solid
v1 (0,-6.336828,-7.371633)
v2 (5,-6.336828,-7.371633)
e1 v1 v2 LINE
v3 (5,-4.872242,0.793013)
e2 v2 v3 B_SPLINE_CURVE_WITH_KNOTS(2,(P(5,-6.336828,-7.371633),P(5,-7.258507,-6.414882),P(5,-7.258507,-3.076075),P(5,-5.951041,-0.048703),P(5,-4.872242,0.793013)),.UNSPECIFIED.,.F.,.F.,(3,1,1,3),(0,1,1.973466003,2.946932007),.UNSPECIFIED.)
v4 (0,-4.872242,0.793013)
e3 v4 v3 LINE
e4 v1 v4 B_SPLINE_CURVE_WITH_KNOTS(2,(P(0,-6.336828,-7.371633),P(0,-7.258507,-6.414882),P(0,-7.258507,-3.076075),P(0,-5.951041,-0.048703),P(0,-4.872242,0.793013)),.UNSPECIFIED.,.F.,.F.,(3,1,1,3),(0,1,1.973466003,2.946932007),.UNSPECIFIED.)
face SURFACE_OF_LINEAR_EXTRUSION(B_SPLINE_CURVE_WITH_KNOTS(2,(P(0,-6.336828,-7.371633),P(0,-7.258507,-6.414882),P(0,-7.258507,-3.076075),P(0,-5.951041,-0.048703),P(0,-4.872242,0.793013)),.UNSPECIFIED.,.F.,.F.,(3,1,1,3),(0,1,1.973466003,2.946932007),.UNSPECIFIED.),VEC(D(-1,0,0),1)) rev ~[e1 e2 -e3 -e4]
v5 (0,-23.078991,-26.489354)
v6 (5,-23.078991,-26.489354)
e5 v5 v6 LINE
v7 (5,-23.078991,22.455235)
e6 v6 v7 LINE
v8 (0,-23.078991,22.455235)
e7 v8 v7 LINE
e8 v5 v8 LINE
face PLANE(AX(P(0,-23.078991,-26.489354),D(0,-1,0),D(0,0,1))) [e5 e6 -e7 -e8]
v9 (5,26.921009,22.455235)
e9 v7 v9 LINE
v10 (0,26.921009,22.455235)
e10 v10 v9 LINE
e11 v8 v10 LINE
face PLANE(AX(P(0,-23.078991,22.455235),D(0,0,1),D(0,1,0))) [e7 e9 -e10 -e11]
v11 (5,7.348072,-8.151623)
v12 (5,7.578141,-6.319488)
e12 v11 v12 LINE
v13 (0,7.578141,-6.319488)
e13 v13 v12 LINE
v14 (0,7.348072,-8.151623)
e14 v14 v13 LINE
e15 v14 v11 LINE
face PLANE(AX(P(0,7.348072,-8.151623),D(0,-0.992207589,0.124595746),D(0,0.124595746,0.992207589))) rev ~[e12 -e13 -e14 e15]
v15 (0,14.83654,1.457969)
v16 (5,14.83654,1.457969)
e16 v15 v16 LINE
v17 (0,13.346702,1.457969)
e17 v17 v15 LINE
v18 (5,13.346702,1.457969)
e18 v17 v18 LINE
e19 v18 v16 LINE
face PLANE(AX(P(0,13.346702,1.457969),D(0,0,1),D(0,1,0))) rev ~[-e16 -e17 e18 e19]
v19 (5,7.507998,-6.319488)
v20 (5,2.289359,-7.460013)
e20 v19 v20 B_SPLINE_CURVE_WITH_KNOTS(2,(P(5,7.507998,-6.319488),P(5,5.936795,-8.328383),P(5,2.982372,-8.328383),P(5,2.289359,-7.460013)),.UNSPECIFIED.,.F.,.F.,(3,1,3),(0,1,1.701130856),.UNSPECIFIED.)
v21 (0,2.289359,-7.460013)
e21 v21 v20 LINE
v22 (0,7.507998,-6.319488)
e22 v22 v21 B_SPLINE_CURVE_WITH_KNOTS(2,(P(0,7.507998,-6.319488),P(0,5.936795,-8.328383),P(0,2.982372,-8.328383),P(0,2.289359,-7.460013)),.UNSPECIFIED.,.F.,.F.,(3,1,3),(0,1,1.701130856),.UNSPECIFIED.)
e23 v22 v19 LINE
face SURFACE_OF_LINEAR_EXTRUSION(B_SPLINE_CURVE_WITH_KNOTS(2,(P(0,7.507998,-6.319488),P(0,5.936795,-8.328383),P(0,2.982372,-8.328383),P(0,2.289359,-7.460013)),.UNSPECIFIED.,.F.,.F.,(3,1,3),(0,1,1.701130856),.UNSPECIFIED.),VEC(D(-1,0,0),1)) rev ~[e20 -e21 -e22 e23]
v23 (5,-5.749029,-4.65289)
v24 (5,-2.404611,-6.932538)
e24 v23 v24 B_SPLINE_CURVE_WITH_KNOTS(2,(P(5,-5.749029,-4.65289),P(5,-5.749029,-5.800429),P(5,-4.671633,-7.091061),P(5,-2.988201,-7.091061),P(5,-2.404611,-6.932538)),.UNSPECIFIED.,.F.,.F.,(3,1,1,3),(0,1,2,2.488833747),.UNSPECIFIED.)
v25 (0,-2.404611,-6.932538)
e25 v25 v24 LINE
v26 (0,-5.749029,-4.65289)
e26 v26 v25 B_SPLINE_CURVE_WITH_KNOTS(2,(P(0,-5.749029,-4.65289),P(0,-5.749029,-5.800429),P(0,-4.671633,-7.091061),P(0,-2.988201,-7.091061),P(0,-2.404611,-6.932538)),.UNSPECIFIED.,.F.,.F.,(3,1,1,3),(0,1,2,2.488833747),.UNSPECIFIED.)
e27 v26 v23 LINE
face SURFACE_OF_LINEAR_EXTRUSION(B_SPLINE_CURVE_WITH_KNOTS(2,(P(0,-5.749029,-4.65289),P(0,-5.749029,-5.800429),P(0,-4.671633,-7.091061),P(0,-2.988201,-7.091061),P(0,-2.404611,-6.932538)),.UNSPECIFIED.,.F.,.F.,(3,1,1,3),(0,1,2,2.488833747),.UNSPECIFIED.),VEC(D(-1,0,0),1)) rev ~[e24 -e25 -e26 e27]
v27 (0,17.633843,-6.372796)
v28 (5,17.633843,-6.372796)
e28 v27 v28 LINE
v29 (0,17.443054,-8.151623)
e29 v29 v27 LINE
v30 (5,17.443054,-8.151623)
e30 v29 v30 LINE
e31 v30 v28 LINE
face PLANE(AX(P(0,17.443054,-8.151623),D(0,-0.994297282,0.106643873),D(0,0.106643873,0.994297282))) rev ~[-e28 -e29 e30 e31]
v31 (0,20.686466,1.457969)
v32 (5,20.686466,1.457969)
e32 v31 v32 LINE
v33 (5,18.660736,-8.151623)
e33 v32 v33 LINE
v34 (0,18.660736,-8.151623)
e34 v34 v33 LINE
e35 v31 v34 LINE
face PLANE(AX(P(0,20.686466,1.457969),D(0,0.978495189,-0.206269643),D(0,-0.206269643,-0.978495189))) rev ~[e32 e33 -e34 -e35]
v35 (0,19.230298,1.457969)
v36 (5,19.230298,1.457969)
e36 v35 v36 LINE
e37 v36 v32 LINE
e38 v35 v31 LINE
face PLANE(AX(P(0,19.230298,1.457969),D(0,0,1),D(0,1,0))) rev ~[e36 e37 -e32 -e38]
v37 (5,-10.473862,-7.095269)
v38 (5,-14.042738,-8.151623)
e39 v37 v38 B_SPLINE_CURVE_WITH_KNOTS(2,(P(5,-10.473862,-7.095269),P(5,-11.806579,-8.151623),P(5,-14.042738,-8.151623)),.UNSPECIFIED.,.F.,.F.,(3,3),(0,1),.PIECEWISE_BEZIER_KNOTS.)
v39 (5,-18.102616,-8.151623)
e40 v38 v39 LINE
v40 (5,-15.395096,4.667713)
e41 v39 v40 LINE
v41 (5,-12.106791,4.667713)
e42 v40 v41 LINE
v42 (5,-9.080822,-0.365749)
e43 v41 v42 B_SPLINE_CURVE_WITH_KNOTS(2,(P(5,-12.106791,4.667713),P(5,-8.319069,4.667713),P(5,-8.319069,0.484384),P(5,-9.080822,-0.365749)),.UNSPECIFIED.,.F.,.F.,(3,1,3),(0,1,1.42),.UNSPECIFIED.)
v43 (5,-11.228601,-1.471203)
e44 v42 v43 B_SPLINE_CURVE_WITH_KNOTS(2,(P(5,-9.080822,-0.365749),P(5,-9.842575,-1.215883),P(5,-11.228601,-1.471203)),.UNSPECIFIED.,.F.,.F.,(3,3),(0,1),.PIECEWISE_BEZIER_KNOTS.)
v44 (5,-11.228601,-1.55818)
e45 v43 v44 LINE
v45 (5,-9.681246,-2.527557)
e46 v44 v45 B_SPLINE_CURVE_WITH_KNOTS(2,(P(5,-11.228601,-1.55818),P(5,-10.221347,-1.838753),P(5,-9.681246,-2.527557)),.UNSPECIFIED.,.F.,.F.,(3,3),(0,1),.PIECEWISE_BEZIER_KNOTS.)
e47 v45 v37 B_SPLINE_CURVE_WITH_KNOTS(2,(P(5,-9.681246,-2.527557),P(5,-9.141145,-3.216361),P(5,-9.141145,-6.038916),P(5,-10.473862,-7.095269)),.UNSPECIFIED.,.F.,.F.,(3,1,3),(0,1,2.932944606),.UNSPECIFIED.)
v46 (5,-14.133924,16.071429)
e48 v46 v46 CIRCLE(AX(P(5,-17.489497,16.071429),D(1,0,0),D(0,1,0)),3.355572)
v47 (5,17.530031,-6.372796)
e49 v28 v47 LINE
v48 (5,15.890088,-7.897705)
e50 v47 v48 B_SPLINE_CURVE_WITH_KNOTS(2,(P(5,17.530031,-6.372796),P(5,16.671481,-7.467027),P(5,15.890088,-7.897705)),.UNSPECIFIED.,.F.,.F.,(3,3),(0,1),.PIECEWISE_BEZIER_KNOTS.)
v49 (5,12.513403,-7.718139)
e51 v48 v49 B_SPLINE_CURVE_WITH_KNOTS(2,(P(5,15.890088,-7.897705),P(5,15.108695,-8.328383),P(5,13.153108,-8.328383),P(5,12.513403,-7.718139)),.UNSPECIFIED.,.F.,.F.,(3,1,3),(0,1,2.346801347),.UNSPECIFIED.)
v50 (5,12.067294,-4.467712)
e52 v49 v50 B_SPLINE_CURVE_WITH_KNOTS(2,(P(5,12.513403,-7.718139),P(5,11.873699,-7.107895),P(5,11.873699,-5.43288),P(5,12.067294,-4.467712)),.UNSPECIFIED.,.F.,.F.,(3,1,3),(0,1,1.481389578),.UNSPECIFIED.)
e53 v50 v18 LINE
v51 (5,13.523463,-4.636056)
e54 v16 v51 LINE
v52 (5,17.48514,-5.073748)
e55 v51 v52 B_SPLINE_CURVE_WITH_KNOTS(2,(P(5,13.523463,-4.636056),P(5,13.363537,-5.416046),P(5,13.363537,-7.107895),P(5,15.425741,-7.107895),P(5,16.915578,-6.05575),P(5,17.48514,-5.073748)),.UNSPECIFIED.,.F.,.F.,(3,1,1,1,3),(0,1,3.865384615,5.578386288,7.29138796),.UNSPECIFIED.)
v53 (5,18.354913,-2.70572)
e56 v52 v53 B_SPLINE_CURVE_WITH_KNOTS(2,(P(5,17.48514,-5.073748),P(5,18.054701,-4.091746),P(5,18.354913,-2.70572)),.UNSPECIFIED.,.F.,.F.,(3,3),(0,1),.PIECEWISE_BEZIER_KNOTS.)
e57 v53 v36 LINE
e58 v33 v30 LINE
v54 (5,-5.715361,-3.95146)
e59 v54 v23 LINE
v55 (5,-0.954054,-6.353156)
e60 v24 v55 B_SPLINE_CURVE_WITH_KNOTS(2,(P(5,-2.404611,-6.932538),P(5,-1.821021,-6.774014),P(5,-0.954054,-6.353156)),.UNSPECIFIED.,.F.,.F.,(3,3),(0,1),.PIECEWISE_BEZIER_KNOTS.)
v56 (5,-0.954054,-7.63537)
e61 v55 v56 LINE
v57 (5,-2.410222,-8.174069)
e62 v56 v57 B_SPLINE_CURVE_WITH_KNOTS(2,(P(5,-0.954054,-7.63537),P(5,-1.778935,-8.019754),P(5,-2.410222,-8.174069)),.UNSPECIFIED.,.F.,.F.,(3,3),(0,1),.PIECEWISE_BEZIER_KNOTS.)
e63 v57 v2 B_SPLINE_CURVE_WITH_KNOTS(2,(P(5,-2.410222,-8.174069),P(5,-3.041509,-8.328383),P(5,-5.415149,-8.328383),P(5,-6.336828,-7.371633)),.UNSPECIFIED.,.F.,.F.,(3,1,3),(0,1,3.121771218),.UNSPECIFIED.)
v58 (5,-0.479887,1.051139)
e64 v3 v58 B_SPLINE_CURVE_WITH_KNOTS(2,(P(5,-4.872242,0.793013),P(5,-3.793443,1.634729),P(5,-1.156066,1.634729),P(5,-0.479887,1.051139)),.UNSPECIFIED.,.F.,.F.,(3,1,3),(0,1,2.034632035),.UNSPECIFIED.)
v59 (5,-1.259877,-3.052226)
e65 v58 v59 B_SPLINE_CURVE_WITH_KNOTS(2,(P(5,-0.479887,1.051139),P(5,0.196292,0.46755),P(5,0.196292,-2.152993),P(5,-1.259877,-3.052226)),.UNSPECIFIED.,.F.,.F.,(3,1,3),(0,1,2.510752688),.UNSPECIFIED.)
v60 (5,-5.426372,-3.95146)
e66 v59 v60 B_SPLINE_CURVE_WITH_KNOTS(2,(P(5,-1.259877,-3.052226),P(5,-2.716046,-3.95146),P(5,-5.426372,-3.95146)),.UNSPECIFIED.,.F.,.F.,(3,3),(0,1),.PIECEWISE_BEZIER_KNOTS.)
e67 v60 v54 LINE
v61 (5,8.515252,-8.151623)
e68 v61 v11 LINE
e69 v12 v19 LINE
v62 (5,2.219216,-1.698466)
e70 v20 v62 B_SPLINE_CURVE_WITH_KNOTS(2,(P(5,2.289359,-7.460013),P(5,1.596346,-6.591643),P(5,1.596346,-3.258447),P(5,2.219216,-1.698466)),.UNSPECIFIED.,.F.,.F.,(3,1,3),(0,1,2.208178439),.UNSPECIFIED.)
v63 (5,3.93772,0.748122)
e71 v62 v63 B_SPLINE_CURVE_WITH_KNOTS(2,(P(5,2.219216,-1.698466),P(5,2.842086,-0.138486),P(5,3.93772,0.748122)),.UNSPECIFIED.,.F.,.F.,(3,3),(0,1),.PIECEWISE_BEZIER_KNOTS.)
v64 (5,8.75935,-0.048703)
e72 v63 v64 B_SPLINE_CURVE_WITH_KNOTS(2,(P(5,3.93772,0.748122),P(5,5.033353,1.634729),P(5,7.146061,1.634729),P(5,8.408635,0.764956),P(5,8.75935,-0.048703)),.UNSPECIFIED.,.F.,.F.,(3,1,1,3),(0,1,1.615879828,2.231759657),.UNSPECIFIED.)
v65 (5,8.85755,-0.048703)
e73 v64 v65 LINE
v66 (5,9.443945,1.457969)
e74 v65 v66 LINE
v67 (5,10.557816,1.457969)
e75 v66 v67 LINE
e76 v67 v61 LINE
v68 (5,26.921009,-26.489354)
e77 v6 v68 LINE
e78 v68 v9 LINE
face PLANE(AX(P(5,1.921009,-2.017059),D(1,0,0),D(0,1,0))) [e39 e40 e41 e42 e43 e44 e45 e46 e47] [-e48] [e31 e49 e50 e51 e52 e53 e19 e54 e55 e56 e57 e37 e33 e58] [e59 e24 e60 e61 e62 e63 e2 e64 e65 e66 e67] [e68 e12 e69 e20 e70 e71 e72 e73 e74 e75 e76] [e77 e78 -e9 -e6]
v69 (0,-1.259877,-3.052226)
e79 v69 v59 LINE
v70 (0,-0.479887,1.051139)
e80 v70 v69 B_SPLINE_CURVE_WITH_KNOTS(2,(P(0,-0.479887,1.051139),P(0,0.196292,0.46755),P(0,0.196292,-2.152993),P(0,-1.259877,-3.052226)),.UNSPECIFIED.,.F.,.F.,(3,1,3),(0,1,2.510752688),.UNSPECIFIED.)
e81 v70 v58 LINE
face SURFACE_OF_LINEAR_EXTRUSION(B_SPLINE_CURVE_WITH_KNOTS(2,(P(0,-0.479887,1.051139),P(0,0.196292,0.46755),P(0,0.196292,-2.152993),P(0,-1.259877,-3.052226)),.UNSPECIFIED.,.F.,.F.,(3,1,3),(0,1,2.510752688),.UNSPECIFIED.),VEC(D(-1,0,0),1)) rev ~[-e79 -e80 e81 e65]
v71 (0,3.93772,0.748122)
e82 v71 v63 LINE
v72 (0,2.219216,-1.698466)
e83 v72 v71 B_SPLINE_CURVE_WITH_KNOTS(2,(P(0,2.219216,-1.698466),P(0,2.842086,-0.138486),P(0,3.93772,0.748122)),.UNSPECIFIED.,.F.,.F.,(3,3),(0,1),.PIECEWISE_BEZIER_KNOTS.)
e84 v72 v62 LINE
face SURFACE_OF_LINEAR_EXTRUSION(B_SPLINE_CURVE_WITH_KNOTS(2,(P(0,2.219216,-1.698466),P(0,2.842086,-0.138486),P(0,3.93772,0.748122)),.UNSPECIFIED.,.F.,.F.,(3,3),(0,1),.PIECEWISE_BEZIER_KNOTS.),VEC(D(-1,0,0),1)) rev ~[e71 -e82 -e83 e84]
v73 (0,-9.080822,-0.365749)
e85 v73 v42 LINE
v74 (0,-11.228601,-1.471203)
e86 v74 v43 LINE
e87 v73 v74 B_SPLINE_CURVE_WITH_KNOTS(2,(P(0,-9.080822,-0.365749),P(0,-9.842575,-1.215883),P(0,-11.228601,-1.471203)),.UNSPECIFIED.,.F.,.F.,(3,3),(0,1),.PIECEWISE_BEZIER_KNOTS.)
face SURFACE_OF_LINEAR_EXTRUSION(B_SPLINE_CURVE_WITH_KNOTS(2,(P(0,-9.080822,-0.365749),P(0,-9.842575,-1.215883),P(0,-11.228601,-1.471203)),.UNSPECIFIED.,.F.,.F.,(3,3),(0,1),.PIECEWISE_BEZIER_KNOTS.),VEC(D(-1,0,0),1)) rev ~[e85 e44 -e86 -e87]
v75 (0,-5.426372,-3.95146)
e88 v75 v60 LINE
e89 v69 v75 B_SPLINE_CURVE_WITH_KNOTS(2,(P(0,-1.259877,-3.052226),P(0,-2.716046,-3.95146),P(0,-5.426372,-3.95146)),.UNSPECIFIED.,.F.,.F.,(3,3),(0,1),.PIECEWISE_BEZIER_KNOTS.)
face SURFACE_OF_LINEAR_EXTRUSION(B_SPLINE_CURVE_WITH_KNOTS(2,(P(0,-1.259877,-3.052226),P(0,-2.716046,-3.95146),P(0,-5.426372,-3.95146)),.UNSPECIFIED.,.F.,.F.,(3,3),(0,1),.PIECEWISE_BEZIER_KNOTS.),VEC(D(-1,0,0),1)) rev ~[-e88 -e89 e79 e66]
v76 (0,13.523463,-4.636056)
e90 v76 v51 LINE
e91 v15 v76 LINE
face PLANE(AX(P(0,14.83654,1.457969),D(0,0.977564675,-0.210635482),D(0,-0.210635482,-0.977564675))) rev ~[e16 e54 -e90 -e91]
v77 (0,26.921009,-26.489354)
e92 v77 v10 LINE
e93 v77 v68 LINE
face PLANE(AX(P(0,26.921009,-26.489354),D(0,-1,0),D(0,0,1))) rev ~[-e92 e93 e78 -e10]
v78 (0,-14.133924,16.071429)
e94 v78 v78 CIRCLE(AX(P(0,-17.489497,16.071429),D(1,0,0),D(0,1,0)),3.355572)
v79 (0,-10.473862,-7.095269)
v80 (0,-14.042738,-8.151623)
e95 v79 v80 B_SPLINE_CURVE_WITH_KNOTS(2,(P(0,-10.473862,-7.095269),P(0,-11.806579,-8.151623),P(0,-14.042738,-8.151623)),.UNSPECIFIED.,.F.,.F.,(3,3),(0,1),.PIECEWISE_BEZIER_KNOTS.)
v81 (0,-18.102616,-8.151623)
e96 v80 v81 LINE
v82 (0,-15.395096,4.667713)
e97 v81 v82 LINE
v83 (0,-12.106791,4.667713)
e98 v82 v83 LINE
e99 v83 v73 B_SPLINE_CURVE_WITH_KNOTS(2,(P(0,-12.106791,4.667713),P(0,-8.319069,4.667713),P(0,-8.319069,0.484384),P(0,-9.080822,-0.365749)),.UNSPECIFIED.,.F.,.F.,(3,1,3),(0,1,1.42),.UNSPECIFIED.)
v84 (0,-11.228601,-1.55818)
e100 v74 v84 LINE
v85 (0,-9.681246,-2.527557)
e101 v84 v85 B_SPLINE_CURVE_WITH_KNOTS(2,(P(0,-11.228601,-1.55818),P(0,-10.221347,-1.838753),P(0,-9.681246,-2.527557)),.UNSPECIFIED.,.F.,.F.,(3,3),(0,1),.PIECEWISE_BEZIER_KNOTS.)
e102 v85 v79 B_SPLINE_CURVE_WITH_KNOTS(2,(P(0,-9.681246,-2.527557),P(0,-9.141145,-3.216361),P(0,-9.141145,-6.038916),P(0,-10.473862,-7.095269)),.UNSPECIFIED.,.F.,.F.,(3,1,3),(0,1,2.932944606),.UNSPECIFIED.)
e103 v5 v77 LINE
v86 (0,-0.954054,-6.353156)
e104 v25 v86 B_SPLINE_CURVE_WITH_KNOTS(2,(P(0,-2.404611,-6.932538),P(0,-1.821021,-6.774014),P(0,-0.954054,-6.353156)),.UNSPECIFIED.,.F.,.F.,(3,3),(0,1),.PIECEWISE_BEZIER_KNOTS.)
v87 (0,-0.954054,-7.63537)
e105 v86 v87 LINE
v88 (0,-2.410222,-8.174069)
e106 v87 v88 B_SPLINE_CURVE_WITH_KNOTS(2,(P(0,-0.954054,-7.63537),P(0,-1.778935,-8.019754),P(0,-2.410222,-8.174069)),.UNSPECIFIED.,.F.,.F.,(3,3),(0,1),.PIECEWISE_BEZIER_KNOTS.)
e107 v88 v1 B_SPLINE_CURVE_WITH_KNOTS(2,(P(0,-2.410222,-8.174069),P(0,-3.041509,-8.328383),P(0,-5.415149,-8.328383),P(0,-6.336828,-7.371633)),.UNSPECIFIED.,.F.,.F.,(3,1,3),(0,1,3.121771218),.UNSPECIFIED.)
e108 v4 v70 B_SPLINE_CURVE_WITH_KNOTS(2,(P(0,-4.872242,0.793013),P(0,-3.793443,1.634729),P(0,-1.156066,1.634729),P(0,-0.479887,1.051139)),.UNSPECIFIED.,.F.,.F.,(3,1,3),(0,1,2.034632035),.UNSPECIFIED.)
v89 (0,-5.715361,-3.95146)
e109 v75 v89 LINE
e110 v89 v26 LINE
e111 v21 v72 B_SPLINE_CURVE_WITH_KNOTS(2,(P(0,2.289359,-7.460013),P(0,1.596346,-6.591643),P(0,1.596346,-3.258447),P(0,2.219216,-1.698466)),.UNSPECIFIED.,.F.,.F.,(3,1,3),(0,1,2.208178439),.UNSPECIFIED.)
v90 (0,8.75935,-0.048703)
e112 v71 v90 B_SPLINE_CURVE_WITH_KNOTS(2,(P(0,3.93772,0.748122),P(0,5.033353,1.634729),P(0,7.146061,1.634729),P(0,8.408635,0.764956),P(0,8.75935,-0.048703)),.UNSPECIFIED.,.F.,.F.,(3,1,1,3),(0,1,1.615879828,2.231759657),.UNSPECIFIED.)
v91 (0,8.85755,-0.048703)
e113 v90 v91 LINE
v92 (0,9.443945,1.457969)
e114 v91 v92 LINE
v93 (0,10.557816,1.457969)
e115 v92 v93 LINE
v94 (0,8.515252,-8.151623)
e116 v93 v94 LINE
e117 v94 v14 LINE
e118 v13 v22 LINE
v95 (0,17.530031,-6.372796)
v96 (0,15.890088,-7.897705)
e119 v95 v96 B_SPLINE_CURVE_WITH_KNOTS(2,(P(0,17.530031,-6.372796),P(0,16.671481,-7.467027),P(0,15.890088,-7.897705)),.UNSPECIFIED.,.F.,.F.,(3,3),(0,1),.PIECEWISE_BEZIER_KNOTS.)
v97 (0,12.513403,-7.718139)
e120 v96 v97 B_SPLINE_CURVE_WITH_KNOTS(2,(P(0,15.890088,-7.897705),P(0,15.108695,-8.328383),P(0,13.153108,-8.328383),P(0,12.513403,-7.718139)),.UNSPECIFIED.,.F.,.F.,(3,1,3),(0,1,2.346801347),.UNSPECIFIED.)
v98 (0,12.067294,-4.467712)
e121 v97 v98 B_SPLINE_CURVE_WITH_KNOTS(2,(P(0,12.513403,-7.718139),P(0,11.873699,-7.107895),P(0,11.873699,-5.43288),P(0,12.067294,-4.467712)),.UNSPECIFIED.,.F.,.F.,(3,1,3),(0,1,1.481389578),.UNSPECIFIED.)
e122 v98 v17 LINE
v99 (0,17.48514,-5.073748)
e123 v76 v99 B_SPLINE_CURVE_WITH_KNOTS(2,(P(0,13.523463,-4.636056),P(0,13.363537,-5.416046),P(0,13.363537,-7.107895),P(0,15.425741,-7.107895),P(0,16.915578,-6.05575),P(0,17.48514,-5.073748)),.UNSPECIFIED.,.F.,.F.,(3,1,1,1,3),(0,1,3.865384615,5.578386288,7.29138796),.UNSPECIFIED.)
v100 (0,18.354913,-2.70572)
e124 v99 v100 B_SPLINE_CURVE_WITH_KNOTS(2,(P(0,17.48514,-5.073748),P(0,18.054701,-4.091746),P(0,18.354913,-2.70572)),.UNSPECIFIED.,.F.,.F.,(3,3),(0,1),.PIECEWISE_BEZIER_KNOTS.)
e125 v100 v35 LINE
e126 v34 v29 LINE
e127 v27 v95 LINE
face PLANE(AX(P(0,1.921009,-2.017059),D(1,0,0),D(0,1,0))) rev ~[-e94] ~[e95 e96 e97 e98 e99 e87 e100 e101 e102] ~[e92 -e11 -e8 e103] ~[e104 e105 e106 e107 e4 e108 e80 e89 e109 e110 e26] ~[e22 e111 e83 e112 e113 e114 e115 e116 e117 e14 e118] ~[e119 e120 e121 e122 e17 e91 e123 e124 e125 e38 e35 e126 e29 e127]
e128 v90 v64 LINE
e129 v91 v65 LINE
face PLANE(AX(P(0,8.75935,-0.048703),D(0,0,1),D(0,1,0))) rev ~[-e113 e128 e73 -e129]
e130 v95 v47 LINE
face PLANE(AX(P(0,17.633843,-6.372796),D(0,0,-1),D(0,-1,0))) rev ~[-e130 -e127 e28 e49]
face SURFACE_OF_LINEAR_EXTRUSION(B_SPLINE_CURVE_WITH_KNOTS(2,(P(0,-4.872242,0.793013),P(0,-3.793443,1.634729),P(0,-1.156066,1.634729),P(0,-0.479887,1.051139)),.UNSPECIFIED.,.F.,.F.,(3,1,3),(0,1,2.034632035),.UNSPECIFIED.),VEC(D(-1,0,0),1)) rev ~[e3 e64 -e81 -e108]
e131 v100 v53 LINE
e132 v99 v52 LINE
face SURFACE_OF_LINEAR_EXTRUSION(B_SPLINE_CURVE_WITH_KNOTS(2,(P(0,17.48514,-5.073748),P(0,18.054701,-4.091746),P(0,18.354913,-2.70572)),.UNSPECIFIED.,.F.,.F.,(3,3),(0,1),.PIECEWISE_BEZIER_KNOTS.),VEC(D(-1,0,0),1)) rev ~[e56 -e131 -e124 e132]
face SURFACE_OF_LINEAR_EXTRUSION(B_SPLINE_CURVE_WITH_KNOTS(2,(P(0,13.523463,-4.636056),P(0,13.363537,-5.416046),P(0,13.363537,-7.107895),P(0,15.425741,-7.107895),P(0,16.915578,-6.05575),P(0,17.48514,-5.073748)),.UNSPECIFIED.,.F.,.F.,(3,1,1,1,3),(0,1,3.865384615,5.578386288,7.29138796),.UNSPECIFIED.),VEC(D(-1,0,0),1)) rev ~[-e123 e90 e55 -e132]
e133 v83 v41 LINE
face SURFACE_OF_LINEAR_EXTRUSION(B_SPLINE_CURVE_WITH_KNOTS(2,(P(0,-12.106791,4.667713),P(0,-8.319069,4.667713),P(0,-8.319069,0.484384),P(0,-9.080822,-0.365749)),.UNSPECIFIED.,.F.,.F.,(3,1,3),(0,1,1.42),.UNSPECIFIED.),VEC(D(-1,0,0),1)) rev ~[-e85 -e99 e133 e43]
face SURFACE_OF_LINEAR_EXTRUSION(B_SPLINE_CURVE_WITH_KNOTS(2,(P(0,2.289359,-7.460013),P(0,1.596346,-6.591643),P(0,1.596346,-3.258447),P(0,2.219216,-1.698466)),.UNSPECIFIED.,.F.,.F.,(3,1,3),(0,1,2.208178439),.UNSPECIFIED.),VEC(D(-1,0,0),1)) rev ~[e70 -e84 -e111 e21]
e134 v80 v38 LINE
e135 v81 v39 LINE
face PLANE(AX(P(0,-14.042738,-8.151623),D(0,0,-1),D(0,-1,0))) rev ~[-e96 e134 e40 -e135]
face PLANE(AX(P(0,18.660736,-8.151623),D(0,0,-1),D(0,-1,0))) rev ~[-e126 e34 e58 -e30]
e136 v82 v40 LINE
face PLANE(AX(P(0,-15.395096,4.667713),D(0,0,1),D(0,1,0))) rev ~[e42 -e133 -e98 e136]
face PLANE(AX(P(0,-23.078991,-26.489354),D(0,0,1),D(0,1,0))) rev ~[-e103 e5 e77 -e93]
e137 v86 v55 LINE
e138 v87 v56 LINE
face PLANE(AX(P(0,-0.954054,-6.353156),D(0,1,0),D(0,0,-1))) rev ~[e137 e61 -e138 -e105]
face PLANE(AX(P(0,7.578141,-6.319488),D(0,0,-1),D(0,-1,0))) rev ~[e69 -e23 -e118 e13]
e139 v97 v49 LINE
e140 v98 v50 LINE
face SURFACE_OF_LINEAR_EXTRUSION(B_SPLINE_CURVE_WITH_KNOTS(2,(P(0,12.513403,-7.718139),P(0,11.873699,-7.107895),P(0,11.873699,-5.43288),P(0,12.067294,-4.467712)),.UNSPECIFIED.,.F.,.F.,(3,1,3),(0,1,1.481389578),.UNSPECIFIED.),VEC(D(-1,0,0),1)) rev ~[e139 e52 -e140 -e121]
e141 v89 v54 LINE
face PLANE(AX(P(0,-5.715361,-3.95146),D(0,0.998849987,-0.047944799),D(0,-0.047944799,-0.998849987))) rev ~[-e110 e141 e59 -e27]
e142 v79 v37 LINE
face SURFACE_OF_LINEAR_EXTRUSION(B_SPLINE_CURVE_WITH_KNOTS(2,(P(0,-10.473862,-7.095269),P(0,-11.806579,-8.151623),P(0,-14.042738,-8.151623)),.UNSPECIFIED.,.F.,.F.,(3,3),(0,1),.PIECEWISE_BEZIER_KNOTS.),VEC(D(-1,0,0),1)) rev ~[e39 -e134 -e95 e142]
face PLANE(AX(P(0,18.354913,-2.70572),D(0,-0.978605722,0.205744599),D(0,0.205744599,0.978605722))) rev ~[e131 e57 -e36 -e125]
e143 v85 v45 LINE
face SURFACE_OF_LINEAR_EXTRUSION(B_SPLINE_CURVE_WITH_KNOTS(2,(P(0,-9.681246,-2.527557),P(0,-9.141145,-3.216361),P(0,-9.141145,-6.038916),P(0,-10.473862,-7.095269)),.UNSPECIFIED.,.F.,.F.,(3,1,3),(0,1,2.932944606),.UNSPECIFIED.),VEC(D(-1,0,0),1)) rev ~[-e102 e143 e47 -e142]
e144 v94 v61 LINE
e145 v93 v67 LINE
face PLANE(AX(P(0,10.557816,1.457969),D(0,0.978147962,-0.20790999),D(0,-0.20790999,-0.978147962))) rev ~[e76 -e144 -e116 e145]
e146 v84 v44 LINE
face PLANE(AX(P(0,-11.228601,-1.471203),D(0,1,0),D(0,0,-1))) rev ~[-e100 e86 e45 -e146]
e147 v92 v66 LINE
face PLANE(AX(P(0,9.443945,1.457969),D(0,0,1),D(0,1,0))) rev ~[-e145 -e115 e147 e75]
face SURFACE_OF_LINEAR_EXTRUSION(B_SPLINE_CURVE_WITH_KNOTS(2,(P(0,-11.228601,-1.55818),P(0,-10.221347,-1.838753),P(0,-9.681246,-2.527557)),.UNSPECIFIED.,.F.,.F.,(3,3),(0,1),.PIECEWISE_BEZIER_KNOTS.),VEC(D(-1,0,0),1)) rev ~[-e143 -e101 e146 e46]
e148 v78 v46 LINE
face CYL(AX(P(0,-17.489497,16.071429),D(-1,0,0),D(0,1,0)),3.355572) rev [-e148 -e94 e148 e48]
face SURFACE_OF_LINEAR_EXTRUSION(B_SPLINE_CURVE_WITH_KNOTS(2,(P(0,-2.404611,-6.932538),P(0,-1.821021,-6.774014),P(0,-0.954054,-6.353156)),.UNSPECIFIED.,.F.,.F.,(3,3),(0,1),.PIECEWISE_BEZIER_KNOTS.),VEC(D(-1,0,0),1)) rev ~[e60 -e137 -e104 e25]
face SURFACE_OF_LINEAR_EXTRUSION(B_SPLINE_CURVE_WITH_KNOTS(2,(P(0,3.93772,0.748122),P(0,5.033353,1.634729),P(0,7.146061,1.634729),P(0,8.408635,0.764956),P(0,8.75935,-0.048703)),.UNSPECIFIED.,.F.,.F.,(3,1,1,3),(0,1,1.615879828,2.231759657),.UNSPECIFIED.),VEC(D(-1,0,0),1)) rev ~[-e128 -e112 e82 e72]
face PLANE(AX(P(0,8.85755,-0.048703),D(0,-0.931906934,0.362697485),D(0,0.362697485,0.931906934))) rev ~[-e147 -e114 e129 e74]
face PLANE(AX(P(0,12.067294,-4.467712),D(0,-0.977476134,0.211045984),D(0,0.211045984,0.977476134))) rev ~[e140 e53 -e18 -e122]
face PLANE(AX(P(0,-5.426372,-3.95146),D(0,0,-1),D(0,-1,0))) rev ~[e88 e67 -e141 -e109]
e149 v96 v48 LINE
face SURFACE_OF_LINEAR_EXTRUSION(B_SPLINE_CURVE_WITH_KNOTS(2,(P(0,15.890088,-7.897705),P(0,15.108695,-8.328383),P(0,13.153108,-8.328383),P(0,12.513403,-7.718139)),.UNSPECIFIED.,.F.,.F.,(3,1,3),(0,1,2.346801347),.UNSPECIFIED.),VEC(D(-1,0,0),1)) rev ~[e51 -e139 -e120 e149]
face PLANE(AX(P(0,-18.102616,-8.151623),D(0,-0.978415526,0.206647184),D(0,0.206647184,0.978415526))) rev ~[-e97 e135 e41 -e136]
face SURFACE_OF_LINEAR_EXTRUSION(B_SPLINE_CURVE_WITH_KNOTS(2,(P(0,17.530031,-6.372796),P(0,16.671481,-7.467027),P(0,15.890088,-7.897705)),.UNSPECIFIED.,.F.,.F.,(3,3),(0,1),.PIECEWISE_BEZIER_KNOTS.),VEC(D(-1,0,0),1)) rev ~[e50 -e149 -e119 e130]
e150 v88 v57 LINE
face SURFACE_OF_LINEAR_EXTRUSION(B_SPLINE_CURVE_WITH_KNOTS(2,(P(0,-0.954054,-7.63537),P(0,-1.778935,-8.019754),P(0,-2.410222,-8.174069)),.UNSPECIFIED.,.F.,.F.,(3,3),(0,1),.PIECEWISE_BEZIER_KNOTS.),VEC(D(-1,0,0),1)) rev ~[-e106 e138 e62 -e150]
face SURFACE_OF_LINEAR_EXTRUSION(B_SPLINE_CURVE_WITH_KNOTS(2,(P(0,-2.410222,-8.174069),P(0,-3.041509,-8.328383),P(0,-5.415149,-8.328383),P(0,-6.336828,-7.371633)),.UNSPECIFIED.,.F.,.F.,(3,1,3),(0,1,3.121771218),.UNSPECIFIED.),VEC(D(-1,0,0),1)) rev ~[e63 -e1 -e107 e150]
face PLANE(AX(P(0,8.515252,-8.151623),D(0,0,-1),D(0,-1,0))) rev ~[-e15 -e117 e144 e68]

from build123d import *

# Parameters (mm, degrees)
F0_W     = 50
F0_H     = 48.9445883323
F0_R     = 3.3555723101
F1_DEPTH = 5


with BuildPart() as f1:
    # F0 (on Right) → F1 (new body)
    with BuildSketch(Plane.YZ):
        with Locations((1.9210092723, -2.0170593634)):
            Rectangle(F0_W, F0_H)
        with BuildLine():
            add(Edge.make_bspline(
                [(-2.4102224398, -8.1740687344), (-3.0415094863, -8.3283833458), (-3.8018596622, -8.3283833458)],
                knots=[0, 0, 0, 1, 1, 1], degree=2))
            add(Edge.make_bspline(
                [(-3.8018596622, -8.3283833458), (-5.415148781, -8.3283833458), (-6.3368278688, -7.3716327553)],
                knots=[0, 0, 0, 1, 1, 1], degree=2))
            add(Edge.make_bspline(
                [(-6.3368278688, -7.3716327553), (-7.2585069566, -6.4148821649), (-7.2585069566, -4.7230328804)],
                knots=[0, 0, 0, 1, 1, 1], degree=2))
            add(Edge.make_bspline(
                [(-7.2585069566, -4.7230328804), (-7.2585069566, -3.0760751192), (-6.6047741485, -1.5623890678)],
                knots=[0, 0, 0, 1, 1, 1], degree=2))
            add(Edge.make_bspline(
                [(-6.6047741485, -1.5623890678), (-5.9510413404, -0.0487030164), (-4.872241921, 0.7930130455)],
                knots=[0, 0, 0, 1, 1, 1], degree=2))
            add(Edge.make_bspline(
                [(-4.872241921, 0.7930130455), (-3.7934425016, 1.6347291075), (-2.4971997662, 1.6347291075)],
                knots=[0, 0, 0, 1, 1, 1], degree=2))
            add(Edge.make_bspline(
                [(-2.4971997662, 1.6347291075), (-1.1560655075, 1.6347291075), (-0.4798869378, 1.0511393045)],
                knots=[0, 0, 0, 1, 1, 1], degree=2))
            add(Edge.make_bspline(
                [(-0.4798869378, 1.0511393045), (0.196291632, 0.4675495016), (0.196291632, -0.5761784152)],
                knots=[0, 0, 0, 1, 1, 1], degree=2))
            add(Edge.make_bspline(
                [(0.196291632, -0.5761784152), (0.196291632, -2.1529931713), (-1.2598771552, -3.0522264975)],
                knots=[0, 0, 0, 1, 1, 1], degree=2))
            add(Edge.make_bspline(
                [(-1.2598771552, -3.0522264975), (-2.7160459423, -3.9514598236), (-5.4263716618, -3.9514598236)],
                knots=[0, 0, 0, 1, 1, 1], degree=2))
            Line((-5.4263716618, -3.9514598236), (-5.7153608431, -3.9514598236))
            Line((-5.7153608431, -3.9514598236), (-5.7490294855, -4.6528898753))
            add(Edge.make_bspline(
                [(-5.7490294855, -4.6528898753), (-5.7490294855, -5.8004294397), (-5.2103312059, -6.4457450872)],
                knots=[0, 0, 0, 1, 1, 1], degree=2))
            add(Edge.make_bspline(
                [(-5.2103312059, -6.4457450872), (-4.6716329263, -7.0910607347), (-3.540927683, -7.0910607347)],
                knots=[0, 0, 0, 1, 1, 1], degree=2))
            add(Edge.make_bspline(
                [(-3.540927683, -7.0910607347), (-2.9882008024, -7.0910607347), (-2.4046109994, -6.932537543)],
                knots=[0, 0, 0, 1, 1, 1], degree=2))
            add(Edge.make_bspline(
                [(-2.4046109994, -6.932537543), (-1.8210211965, -6.7740143514), (-0.9540536527, -6.3531563204)],
                knots=[0, 0, 0, 1, 1, 1], degree=2))
            Line((-0.9540536527, -6.3531563204), (-0.9540536527, -7.6353704547))
            add(Edge.make_bspline(
                [(-0.9540536527, -7.6353704547), (-1.7789353934, -8.019754123), (-2.4102224398, -8.1740687344)],
                knots=[0, 0, 0, 1, 1, 1], degree=2))
        make_face(mode=Mode.SUBTRACT)
        with BuildLine():
            add(Edge.make_bspline(
                [(3.9377195273, 0.7481215222), (5.033353268, 1.6347291075), (6.3408188842, 1.6347291075)],
                knots=[0, 0, 0, 1, 1, 1], degree=2))
            add(Edge.make_bspline(
                [(6.3408188842, 1.6347291075), (7.1460605834, 1.6347291075), (7.7773476299, 1.1998424755)],
                knots=[0, 0, 0, 1, 1, 1], degree=2))
            add(Edge.make_bspline(
                [(7.7773476299, 1.1998424755), (8.4086346764, 0.7649558435), (8.7593497022, -0.0487030164)],
                knots=[0, 0, 0, 1, 1, 1], degree=2))
            Line((8.7593497022, -0.0487030164), (8.8575499094, -0.0487030164))
            Line((8.8575499094, -0.0487030164), (9.4439454326, 1.4579687345))
            Line((9.4439454326, 1.4579687345), (10.5578163545, 1.4579687345))
            Line((10.5578163545, 1.4579687345), (8.5152520442, -8.1516229727))
            Line((8.5152520442, -8.1516229727), (7.3480724383, -8.1516229727))
            Line((7.3480724383, -8.1516229727), (7.5781414952, -6.3194876779))
            Line((7.5781414952, -6.3194876779), (7.5079984901, -6.3194876779))
            add(Edge.make_bspline(
                [(7.5079984901, -6.3194876779), (5.9367951745, -8.3283833458), (4.2000543666, -8.3283833458)],
                knots=[0, 0, 0, 1, 1, 1], degree=2))
            add(Edge.make_bspline(
                [(4.2000543666, -8.3283833458), (2.982371797, -8.3283833458), (2.289358906, -7.4600129418)],
                knots=[0, 0, 0, 1, 1, 1], degree=2))
            add(Edge.make_bspline(
                [(2.289358906, -7.4600129418), (1.596346015, -6.5916425379), (1.596346015, -5.0821650669)],
                knots=[0, 0, 0, 1, 1, 1], degree=2))
            add(Edge.make_bspline(
                [(1.596346015, -5.0821650669), (1.596346015, -3.2584469326), (2.2192159009, -1.6984664978)],
                knots=[0, 0, 0, 1, 1, 1], degree=2))
            add(Edge.make_bspline(
                [(2.2192159009, -1.6984664978), (2.8420857867, -0.138486063), (3.9377195273, 0.7481215222)],
                knots=[0, 0, 0, 1, 1, 1], degree=2))
        make_face(mode=Mode.SUBTRACT)
        with BuildLine():
            Line((13.3467022398, 1.4579687345), (14.8365396694, 1.4579687345))
            Line((14.8365396694, 1.4579687345), (13.5234626128, -4.636055554))
            add(Edge.make_bspline(
                [(13.5234626128, -4.636055554), (13.363536561, -5.4160457714), (13.363536561, -5.8537381236)],
                knots=[0, 0, 0, 1, 1, 1], degree=2))
            add(Edge.make_bspline(
                [(13.363536561, -5.8537381236), (13.363536561, -7.1078950559), (14.654167856, -7.1078950559)],
                knots=[0, 0, 0, 1, 1, 1], degree=2))
            add(Edge.make_bspline(
                [(14.654167856, -7.1078950559), (15.4257409128, -7.1078950559), (16.1706596276, -6.5818225172)],
                knots=[0, 0, 0, 1, 1, 1], degree=2))
            add(Edge.make_bspline(
                [(16.1706596276, -6.5818225172), (16.9155783424, -6.0557499785), (17.4851395443, -5.0737479062)],
                knots=[0, 0, 0, 1, 1, 1], degree=2))
            add(Edge.make_bspline(
                [(17.4851395443, -5.0737479062), (18.0547007462, -4.091745834), (18.3549128083, -2.705720052)],
                knots=[0, 0, 0, 1, 1, 1], degree=2))
            Line((18.3549128083, -2.705720052), (19.2302975128, 1.4579687345))
            Line((19.2302975128, 1.4579687345), (20.6864662999, 1.4579687345))
            Line((20.6864662999, 1.4579687345), (18.6607363108, -8.1516229727))
            Line((18.6607363108, -8.1516229727), (17.4430537412, -8.1516229727))
            Line((17.4430537412, -8.1516229727), (17.6338427153, -6.3727963618))
            Line((17.6338427153, -6.3727963618), (17.5300310676, -6.3727963618))
            add(Edge.make_bspline(
                [(17.5300310676, -6.3727963618), (16.6714806845, -7.4670272424), (15.8900876069, -7.8977052941)],
                knots=[0, 0, 0, 1, 1, 1], degree=2))
            add(Edge.make_bspline(
                [(15.8900876069, -7.8977052941), (15.1086945294, -8.3283833458), (14.2753956281, -8.3283833458)],
                knots=[0, 0, 0, 1, 1, 1], degree=2))
            add(Edge.make_bspline(
                [(14.2753956281, -8.3283833458), (13.1531075455, -8.3283833458), (12.5134033384, -7.7181392008)],
                knots=[0, 0, 0, 1, 1, 1], degree=2))
            add(Edge.make_bspline(
                [(12.5134033384, -7.7181392008), (11.8736991314, -7.1078950559), (11.8736991314, -5.9771898127)],
                knots=[0, 0, 0, 1, 1, 1], degree=2))
            add(Edge.make_bspline(
                [(11.8736991314, -5.9771898127), (11.8736991314, -5.4328800927), (12.0672938256, -4.4677123416)],
                knots=[0, 0, 0, 1, 1, 1], degree=2))
            Line((12.0672938256, -4.4677123416), (13.3467022398, 1.4579687345))
        make_face(mode=Mode.SUBTRACT)
        with BuildLine():
            Line((-15.3950955554, 4.6677126507), (-12.1067914734, 4.6677126507))
            add(Edge.make_bspline(
                [(-12.1067914734, 4.6677126507), (-8.3190691947, 4.6677126507), (-8.3190691947, 1.7217064339)],
                knots=[0, 0, 0, 1, 1, 1], degree=2))
            add(Edge.make_bspline(
                [(-8.3190691947, 1.7217064339), (-8.3190691947, 0.4843838228), (-9.0808222307, -0.3657493998)],
                knots=[0, 0, 0, 1, 1, 1], degree=2))
            add(Edge.make_bspline(
                [(-9.0808222307, -0.3657493998), (-9.8425752668, -1.2158826223), (-11.2286010488, -1.4712031611)],
                knots=[0, 0, 0, 1, 1, 1], degree=2))
            Line((-11.2286010488, -1.4712031611), (-11.2286010488, -1.5581804875))
            add(Edge.make_bspline(
                [(-11.2286010488, -1.5581804875), (-10.2213474947, -1.8387525082), (-9.6812463549, -2.5275568188)],
                knots=[0, 0, 0, 1, 1, 1], degree=2))
            add(Edge.make_bspline(
                [(-9.6812463549, -2.5275568188), (-9.1411452152, -3.2163611295), (-9.1411452152, -4.1787231604)],
                knots=[0, 0, 0, 1, 1, 1], degree=2))
            add(Edge.make_bspline(
                [(-9.1411452152, -4.1787231604), (-9.1411452152, -6.0389156573), (-10.4738623133, -7.095269315)],
                knots=[0, 0, 0, 1, 1, 1], degree=2))
            add(Edge.make_bspline(
                [(-10.4738623133, -7.095269315), (-11.8065794113, -8.1516229727), (-14.0427384159, -8.1516229727)],
                knots=[0, 0, 0, 1, 1, 1], degree=2))
            Line((-14.0427384159, -8.1516229727), (-18.1026155547, -8.1516229727))
            Line((-18.1026155547, -8.1516229727), (-15.3950955554, 4.6677126507))
        make_face(mode=Mode.SUBTRACT)
        with Locations((-17.4894966185, 16.0714294761)):
            Circle(F0_R, mode=Mode.SUBTRACT)
    extrude(amount=F1_DEPTH)


solid = f1.part
